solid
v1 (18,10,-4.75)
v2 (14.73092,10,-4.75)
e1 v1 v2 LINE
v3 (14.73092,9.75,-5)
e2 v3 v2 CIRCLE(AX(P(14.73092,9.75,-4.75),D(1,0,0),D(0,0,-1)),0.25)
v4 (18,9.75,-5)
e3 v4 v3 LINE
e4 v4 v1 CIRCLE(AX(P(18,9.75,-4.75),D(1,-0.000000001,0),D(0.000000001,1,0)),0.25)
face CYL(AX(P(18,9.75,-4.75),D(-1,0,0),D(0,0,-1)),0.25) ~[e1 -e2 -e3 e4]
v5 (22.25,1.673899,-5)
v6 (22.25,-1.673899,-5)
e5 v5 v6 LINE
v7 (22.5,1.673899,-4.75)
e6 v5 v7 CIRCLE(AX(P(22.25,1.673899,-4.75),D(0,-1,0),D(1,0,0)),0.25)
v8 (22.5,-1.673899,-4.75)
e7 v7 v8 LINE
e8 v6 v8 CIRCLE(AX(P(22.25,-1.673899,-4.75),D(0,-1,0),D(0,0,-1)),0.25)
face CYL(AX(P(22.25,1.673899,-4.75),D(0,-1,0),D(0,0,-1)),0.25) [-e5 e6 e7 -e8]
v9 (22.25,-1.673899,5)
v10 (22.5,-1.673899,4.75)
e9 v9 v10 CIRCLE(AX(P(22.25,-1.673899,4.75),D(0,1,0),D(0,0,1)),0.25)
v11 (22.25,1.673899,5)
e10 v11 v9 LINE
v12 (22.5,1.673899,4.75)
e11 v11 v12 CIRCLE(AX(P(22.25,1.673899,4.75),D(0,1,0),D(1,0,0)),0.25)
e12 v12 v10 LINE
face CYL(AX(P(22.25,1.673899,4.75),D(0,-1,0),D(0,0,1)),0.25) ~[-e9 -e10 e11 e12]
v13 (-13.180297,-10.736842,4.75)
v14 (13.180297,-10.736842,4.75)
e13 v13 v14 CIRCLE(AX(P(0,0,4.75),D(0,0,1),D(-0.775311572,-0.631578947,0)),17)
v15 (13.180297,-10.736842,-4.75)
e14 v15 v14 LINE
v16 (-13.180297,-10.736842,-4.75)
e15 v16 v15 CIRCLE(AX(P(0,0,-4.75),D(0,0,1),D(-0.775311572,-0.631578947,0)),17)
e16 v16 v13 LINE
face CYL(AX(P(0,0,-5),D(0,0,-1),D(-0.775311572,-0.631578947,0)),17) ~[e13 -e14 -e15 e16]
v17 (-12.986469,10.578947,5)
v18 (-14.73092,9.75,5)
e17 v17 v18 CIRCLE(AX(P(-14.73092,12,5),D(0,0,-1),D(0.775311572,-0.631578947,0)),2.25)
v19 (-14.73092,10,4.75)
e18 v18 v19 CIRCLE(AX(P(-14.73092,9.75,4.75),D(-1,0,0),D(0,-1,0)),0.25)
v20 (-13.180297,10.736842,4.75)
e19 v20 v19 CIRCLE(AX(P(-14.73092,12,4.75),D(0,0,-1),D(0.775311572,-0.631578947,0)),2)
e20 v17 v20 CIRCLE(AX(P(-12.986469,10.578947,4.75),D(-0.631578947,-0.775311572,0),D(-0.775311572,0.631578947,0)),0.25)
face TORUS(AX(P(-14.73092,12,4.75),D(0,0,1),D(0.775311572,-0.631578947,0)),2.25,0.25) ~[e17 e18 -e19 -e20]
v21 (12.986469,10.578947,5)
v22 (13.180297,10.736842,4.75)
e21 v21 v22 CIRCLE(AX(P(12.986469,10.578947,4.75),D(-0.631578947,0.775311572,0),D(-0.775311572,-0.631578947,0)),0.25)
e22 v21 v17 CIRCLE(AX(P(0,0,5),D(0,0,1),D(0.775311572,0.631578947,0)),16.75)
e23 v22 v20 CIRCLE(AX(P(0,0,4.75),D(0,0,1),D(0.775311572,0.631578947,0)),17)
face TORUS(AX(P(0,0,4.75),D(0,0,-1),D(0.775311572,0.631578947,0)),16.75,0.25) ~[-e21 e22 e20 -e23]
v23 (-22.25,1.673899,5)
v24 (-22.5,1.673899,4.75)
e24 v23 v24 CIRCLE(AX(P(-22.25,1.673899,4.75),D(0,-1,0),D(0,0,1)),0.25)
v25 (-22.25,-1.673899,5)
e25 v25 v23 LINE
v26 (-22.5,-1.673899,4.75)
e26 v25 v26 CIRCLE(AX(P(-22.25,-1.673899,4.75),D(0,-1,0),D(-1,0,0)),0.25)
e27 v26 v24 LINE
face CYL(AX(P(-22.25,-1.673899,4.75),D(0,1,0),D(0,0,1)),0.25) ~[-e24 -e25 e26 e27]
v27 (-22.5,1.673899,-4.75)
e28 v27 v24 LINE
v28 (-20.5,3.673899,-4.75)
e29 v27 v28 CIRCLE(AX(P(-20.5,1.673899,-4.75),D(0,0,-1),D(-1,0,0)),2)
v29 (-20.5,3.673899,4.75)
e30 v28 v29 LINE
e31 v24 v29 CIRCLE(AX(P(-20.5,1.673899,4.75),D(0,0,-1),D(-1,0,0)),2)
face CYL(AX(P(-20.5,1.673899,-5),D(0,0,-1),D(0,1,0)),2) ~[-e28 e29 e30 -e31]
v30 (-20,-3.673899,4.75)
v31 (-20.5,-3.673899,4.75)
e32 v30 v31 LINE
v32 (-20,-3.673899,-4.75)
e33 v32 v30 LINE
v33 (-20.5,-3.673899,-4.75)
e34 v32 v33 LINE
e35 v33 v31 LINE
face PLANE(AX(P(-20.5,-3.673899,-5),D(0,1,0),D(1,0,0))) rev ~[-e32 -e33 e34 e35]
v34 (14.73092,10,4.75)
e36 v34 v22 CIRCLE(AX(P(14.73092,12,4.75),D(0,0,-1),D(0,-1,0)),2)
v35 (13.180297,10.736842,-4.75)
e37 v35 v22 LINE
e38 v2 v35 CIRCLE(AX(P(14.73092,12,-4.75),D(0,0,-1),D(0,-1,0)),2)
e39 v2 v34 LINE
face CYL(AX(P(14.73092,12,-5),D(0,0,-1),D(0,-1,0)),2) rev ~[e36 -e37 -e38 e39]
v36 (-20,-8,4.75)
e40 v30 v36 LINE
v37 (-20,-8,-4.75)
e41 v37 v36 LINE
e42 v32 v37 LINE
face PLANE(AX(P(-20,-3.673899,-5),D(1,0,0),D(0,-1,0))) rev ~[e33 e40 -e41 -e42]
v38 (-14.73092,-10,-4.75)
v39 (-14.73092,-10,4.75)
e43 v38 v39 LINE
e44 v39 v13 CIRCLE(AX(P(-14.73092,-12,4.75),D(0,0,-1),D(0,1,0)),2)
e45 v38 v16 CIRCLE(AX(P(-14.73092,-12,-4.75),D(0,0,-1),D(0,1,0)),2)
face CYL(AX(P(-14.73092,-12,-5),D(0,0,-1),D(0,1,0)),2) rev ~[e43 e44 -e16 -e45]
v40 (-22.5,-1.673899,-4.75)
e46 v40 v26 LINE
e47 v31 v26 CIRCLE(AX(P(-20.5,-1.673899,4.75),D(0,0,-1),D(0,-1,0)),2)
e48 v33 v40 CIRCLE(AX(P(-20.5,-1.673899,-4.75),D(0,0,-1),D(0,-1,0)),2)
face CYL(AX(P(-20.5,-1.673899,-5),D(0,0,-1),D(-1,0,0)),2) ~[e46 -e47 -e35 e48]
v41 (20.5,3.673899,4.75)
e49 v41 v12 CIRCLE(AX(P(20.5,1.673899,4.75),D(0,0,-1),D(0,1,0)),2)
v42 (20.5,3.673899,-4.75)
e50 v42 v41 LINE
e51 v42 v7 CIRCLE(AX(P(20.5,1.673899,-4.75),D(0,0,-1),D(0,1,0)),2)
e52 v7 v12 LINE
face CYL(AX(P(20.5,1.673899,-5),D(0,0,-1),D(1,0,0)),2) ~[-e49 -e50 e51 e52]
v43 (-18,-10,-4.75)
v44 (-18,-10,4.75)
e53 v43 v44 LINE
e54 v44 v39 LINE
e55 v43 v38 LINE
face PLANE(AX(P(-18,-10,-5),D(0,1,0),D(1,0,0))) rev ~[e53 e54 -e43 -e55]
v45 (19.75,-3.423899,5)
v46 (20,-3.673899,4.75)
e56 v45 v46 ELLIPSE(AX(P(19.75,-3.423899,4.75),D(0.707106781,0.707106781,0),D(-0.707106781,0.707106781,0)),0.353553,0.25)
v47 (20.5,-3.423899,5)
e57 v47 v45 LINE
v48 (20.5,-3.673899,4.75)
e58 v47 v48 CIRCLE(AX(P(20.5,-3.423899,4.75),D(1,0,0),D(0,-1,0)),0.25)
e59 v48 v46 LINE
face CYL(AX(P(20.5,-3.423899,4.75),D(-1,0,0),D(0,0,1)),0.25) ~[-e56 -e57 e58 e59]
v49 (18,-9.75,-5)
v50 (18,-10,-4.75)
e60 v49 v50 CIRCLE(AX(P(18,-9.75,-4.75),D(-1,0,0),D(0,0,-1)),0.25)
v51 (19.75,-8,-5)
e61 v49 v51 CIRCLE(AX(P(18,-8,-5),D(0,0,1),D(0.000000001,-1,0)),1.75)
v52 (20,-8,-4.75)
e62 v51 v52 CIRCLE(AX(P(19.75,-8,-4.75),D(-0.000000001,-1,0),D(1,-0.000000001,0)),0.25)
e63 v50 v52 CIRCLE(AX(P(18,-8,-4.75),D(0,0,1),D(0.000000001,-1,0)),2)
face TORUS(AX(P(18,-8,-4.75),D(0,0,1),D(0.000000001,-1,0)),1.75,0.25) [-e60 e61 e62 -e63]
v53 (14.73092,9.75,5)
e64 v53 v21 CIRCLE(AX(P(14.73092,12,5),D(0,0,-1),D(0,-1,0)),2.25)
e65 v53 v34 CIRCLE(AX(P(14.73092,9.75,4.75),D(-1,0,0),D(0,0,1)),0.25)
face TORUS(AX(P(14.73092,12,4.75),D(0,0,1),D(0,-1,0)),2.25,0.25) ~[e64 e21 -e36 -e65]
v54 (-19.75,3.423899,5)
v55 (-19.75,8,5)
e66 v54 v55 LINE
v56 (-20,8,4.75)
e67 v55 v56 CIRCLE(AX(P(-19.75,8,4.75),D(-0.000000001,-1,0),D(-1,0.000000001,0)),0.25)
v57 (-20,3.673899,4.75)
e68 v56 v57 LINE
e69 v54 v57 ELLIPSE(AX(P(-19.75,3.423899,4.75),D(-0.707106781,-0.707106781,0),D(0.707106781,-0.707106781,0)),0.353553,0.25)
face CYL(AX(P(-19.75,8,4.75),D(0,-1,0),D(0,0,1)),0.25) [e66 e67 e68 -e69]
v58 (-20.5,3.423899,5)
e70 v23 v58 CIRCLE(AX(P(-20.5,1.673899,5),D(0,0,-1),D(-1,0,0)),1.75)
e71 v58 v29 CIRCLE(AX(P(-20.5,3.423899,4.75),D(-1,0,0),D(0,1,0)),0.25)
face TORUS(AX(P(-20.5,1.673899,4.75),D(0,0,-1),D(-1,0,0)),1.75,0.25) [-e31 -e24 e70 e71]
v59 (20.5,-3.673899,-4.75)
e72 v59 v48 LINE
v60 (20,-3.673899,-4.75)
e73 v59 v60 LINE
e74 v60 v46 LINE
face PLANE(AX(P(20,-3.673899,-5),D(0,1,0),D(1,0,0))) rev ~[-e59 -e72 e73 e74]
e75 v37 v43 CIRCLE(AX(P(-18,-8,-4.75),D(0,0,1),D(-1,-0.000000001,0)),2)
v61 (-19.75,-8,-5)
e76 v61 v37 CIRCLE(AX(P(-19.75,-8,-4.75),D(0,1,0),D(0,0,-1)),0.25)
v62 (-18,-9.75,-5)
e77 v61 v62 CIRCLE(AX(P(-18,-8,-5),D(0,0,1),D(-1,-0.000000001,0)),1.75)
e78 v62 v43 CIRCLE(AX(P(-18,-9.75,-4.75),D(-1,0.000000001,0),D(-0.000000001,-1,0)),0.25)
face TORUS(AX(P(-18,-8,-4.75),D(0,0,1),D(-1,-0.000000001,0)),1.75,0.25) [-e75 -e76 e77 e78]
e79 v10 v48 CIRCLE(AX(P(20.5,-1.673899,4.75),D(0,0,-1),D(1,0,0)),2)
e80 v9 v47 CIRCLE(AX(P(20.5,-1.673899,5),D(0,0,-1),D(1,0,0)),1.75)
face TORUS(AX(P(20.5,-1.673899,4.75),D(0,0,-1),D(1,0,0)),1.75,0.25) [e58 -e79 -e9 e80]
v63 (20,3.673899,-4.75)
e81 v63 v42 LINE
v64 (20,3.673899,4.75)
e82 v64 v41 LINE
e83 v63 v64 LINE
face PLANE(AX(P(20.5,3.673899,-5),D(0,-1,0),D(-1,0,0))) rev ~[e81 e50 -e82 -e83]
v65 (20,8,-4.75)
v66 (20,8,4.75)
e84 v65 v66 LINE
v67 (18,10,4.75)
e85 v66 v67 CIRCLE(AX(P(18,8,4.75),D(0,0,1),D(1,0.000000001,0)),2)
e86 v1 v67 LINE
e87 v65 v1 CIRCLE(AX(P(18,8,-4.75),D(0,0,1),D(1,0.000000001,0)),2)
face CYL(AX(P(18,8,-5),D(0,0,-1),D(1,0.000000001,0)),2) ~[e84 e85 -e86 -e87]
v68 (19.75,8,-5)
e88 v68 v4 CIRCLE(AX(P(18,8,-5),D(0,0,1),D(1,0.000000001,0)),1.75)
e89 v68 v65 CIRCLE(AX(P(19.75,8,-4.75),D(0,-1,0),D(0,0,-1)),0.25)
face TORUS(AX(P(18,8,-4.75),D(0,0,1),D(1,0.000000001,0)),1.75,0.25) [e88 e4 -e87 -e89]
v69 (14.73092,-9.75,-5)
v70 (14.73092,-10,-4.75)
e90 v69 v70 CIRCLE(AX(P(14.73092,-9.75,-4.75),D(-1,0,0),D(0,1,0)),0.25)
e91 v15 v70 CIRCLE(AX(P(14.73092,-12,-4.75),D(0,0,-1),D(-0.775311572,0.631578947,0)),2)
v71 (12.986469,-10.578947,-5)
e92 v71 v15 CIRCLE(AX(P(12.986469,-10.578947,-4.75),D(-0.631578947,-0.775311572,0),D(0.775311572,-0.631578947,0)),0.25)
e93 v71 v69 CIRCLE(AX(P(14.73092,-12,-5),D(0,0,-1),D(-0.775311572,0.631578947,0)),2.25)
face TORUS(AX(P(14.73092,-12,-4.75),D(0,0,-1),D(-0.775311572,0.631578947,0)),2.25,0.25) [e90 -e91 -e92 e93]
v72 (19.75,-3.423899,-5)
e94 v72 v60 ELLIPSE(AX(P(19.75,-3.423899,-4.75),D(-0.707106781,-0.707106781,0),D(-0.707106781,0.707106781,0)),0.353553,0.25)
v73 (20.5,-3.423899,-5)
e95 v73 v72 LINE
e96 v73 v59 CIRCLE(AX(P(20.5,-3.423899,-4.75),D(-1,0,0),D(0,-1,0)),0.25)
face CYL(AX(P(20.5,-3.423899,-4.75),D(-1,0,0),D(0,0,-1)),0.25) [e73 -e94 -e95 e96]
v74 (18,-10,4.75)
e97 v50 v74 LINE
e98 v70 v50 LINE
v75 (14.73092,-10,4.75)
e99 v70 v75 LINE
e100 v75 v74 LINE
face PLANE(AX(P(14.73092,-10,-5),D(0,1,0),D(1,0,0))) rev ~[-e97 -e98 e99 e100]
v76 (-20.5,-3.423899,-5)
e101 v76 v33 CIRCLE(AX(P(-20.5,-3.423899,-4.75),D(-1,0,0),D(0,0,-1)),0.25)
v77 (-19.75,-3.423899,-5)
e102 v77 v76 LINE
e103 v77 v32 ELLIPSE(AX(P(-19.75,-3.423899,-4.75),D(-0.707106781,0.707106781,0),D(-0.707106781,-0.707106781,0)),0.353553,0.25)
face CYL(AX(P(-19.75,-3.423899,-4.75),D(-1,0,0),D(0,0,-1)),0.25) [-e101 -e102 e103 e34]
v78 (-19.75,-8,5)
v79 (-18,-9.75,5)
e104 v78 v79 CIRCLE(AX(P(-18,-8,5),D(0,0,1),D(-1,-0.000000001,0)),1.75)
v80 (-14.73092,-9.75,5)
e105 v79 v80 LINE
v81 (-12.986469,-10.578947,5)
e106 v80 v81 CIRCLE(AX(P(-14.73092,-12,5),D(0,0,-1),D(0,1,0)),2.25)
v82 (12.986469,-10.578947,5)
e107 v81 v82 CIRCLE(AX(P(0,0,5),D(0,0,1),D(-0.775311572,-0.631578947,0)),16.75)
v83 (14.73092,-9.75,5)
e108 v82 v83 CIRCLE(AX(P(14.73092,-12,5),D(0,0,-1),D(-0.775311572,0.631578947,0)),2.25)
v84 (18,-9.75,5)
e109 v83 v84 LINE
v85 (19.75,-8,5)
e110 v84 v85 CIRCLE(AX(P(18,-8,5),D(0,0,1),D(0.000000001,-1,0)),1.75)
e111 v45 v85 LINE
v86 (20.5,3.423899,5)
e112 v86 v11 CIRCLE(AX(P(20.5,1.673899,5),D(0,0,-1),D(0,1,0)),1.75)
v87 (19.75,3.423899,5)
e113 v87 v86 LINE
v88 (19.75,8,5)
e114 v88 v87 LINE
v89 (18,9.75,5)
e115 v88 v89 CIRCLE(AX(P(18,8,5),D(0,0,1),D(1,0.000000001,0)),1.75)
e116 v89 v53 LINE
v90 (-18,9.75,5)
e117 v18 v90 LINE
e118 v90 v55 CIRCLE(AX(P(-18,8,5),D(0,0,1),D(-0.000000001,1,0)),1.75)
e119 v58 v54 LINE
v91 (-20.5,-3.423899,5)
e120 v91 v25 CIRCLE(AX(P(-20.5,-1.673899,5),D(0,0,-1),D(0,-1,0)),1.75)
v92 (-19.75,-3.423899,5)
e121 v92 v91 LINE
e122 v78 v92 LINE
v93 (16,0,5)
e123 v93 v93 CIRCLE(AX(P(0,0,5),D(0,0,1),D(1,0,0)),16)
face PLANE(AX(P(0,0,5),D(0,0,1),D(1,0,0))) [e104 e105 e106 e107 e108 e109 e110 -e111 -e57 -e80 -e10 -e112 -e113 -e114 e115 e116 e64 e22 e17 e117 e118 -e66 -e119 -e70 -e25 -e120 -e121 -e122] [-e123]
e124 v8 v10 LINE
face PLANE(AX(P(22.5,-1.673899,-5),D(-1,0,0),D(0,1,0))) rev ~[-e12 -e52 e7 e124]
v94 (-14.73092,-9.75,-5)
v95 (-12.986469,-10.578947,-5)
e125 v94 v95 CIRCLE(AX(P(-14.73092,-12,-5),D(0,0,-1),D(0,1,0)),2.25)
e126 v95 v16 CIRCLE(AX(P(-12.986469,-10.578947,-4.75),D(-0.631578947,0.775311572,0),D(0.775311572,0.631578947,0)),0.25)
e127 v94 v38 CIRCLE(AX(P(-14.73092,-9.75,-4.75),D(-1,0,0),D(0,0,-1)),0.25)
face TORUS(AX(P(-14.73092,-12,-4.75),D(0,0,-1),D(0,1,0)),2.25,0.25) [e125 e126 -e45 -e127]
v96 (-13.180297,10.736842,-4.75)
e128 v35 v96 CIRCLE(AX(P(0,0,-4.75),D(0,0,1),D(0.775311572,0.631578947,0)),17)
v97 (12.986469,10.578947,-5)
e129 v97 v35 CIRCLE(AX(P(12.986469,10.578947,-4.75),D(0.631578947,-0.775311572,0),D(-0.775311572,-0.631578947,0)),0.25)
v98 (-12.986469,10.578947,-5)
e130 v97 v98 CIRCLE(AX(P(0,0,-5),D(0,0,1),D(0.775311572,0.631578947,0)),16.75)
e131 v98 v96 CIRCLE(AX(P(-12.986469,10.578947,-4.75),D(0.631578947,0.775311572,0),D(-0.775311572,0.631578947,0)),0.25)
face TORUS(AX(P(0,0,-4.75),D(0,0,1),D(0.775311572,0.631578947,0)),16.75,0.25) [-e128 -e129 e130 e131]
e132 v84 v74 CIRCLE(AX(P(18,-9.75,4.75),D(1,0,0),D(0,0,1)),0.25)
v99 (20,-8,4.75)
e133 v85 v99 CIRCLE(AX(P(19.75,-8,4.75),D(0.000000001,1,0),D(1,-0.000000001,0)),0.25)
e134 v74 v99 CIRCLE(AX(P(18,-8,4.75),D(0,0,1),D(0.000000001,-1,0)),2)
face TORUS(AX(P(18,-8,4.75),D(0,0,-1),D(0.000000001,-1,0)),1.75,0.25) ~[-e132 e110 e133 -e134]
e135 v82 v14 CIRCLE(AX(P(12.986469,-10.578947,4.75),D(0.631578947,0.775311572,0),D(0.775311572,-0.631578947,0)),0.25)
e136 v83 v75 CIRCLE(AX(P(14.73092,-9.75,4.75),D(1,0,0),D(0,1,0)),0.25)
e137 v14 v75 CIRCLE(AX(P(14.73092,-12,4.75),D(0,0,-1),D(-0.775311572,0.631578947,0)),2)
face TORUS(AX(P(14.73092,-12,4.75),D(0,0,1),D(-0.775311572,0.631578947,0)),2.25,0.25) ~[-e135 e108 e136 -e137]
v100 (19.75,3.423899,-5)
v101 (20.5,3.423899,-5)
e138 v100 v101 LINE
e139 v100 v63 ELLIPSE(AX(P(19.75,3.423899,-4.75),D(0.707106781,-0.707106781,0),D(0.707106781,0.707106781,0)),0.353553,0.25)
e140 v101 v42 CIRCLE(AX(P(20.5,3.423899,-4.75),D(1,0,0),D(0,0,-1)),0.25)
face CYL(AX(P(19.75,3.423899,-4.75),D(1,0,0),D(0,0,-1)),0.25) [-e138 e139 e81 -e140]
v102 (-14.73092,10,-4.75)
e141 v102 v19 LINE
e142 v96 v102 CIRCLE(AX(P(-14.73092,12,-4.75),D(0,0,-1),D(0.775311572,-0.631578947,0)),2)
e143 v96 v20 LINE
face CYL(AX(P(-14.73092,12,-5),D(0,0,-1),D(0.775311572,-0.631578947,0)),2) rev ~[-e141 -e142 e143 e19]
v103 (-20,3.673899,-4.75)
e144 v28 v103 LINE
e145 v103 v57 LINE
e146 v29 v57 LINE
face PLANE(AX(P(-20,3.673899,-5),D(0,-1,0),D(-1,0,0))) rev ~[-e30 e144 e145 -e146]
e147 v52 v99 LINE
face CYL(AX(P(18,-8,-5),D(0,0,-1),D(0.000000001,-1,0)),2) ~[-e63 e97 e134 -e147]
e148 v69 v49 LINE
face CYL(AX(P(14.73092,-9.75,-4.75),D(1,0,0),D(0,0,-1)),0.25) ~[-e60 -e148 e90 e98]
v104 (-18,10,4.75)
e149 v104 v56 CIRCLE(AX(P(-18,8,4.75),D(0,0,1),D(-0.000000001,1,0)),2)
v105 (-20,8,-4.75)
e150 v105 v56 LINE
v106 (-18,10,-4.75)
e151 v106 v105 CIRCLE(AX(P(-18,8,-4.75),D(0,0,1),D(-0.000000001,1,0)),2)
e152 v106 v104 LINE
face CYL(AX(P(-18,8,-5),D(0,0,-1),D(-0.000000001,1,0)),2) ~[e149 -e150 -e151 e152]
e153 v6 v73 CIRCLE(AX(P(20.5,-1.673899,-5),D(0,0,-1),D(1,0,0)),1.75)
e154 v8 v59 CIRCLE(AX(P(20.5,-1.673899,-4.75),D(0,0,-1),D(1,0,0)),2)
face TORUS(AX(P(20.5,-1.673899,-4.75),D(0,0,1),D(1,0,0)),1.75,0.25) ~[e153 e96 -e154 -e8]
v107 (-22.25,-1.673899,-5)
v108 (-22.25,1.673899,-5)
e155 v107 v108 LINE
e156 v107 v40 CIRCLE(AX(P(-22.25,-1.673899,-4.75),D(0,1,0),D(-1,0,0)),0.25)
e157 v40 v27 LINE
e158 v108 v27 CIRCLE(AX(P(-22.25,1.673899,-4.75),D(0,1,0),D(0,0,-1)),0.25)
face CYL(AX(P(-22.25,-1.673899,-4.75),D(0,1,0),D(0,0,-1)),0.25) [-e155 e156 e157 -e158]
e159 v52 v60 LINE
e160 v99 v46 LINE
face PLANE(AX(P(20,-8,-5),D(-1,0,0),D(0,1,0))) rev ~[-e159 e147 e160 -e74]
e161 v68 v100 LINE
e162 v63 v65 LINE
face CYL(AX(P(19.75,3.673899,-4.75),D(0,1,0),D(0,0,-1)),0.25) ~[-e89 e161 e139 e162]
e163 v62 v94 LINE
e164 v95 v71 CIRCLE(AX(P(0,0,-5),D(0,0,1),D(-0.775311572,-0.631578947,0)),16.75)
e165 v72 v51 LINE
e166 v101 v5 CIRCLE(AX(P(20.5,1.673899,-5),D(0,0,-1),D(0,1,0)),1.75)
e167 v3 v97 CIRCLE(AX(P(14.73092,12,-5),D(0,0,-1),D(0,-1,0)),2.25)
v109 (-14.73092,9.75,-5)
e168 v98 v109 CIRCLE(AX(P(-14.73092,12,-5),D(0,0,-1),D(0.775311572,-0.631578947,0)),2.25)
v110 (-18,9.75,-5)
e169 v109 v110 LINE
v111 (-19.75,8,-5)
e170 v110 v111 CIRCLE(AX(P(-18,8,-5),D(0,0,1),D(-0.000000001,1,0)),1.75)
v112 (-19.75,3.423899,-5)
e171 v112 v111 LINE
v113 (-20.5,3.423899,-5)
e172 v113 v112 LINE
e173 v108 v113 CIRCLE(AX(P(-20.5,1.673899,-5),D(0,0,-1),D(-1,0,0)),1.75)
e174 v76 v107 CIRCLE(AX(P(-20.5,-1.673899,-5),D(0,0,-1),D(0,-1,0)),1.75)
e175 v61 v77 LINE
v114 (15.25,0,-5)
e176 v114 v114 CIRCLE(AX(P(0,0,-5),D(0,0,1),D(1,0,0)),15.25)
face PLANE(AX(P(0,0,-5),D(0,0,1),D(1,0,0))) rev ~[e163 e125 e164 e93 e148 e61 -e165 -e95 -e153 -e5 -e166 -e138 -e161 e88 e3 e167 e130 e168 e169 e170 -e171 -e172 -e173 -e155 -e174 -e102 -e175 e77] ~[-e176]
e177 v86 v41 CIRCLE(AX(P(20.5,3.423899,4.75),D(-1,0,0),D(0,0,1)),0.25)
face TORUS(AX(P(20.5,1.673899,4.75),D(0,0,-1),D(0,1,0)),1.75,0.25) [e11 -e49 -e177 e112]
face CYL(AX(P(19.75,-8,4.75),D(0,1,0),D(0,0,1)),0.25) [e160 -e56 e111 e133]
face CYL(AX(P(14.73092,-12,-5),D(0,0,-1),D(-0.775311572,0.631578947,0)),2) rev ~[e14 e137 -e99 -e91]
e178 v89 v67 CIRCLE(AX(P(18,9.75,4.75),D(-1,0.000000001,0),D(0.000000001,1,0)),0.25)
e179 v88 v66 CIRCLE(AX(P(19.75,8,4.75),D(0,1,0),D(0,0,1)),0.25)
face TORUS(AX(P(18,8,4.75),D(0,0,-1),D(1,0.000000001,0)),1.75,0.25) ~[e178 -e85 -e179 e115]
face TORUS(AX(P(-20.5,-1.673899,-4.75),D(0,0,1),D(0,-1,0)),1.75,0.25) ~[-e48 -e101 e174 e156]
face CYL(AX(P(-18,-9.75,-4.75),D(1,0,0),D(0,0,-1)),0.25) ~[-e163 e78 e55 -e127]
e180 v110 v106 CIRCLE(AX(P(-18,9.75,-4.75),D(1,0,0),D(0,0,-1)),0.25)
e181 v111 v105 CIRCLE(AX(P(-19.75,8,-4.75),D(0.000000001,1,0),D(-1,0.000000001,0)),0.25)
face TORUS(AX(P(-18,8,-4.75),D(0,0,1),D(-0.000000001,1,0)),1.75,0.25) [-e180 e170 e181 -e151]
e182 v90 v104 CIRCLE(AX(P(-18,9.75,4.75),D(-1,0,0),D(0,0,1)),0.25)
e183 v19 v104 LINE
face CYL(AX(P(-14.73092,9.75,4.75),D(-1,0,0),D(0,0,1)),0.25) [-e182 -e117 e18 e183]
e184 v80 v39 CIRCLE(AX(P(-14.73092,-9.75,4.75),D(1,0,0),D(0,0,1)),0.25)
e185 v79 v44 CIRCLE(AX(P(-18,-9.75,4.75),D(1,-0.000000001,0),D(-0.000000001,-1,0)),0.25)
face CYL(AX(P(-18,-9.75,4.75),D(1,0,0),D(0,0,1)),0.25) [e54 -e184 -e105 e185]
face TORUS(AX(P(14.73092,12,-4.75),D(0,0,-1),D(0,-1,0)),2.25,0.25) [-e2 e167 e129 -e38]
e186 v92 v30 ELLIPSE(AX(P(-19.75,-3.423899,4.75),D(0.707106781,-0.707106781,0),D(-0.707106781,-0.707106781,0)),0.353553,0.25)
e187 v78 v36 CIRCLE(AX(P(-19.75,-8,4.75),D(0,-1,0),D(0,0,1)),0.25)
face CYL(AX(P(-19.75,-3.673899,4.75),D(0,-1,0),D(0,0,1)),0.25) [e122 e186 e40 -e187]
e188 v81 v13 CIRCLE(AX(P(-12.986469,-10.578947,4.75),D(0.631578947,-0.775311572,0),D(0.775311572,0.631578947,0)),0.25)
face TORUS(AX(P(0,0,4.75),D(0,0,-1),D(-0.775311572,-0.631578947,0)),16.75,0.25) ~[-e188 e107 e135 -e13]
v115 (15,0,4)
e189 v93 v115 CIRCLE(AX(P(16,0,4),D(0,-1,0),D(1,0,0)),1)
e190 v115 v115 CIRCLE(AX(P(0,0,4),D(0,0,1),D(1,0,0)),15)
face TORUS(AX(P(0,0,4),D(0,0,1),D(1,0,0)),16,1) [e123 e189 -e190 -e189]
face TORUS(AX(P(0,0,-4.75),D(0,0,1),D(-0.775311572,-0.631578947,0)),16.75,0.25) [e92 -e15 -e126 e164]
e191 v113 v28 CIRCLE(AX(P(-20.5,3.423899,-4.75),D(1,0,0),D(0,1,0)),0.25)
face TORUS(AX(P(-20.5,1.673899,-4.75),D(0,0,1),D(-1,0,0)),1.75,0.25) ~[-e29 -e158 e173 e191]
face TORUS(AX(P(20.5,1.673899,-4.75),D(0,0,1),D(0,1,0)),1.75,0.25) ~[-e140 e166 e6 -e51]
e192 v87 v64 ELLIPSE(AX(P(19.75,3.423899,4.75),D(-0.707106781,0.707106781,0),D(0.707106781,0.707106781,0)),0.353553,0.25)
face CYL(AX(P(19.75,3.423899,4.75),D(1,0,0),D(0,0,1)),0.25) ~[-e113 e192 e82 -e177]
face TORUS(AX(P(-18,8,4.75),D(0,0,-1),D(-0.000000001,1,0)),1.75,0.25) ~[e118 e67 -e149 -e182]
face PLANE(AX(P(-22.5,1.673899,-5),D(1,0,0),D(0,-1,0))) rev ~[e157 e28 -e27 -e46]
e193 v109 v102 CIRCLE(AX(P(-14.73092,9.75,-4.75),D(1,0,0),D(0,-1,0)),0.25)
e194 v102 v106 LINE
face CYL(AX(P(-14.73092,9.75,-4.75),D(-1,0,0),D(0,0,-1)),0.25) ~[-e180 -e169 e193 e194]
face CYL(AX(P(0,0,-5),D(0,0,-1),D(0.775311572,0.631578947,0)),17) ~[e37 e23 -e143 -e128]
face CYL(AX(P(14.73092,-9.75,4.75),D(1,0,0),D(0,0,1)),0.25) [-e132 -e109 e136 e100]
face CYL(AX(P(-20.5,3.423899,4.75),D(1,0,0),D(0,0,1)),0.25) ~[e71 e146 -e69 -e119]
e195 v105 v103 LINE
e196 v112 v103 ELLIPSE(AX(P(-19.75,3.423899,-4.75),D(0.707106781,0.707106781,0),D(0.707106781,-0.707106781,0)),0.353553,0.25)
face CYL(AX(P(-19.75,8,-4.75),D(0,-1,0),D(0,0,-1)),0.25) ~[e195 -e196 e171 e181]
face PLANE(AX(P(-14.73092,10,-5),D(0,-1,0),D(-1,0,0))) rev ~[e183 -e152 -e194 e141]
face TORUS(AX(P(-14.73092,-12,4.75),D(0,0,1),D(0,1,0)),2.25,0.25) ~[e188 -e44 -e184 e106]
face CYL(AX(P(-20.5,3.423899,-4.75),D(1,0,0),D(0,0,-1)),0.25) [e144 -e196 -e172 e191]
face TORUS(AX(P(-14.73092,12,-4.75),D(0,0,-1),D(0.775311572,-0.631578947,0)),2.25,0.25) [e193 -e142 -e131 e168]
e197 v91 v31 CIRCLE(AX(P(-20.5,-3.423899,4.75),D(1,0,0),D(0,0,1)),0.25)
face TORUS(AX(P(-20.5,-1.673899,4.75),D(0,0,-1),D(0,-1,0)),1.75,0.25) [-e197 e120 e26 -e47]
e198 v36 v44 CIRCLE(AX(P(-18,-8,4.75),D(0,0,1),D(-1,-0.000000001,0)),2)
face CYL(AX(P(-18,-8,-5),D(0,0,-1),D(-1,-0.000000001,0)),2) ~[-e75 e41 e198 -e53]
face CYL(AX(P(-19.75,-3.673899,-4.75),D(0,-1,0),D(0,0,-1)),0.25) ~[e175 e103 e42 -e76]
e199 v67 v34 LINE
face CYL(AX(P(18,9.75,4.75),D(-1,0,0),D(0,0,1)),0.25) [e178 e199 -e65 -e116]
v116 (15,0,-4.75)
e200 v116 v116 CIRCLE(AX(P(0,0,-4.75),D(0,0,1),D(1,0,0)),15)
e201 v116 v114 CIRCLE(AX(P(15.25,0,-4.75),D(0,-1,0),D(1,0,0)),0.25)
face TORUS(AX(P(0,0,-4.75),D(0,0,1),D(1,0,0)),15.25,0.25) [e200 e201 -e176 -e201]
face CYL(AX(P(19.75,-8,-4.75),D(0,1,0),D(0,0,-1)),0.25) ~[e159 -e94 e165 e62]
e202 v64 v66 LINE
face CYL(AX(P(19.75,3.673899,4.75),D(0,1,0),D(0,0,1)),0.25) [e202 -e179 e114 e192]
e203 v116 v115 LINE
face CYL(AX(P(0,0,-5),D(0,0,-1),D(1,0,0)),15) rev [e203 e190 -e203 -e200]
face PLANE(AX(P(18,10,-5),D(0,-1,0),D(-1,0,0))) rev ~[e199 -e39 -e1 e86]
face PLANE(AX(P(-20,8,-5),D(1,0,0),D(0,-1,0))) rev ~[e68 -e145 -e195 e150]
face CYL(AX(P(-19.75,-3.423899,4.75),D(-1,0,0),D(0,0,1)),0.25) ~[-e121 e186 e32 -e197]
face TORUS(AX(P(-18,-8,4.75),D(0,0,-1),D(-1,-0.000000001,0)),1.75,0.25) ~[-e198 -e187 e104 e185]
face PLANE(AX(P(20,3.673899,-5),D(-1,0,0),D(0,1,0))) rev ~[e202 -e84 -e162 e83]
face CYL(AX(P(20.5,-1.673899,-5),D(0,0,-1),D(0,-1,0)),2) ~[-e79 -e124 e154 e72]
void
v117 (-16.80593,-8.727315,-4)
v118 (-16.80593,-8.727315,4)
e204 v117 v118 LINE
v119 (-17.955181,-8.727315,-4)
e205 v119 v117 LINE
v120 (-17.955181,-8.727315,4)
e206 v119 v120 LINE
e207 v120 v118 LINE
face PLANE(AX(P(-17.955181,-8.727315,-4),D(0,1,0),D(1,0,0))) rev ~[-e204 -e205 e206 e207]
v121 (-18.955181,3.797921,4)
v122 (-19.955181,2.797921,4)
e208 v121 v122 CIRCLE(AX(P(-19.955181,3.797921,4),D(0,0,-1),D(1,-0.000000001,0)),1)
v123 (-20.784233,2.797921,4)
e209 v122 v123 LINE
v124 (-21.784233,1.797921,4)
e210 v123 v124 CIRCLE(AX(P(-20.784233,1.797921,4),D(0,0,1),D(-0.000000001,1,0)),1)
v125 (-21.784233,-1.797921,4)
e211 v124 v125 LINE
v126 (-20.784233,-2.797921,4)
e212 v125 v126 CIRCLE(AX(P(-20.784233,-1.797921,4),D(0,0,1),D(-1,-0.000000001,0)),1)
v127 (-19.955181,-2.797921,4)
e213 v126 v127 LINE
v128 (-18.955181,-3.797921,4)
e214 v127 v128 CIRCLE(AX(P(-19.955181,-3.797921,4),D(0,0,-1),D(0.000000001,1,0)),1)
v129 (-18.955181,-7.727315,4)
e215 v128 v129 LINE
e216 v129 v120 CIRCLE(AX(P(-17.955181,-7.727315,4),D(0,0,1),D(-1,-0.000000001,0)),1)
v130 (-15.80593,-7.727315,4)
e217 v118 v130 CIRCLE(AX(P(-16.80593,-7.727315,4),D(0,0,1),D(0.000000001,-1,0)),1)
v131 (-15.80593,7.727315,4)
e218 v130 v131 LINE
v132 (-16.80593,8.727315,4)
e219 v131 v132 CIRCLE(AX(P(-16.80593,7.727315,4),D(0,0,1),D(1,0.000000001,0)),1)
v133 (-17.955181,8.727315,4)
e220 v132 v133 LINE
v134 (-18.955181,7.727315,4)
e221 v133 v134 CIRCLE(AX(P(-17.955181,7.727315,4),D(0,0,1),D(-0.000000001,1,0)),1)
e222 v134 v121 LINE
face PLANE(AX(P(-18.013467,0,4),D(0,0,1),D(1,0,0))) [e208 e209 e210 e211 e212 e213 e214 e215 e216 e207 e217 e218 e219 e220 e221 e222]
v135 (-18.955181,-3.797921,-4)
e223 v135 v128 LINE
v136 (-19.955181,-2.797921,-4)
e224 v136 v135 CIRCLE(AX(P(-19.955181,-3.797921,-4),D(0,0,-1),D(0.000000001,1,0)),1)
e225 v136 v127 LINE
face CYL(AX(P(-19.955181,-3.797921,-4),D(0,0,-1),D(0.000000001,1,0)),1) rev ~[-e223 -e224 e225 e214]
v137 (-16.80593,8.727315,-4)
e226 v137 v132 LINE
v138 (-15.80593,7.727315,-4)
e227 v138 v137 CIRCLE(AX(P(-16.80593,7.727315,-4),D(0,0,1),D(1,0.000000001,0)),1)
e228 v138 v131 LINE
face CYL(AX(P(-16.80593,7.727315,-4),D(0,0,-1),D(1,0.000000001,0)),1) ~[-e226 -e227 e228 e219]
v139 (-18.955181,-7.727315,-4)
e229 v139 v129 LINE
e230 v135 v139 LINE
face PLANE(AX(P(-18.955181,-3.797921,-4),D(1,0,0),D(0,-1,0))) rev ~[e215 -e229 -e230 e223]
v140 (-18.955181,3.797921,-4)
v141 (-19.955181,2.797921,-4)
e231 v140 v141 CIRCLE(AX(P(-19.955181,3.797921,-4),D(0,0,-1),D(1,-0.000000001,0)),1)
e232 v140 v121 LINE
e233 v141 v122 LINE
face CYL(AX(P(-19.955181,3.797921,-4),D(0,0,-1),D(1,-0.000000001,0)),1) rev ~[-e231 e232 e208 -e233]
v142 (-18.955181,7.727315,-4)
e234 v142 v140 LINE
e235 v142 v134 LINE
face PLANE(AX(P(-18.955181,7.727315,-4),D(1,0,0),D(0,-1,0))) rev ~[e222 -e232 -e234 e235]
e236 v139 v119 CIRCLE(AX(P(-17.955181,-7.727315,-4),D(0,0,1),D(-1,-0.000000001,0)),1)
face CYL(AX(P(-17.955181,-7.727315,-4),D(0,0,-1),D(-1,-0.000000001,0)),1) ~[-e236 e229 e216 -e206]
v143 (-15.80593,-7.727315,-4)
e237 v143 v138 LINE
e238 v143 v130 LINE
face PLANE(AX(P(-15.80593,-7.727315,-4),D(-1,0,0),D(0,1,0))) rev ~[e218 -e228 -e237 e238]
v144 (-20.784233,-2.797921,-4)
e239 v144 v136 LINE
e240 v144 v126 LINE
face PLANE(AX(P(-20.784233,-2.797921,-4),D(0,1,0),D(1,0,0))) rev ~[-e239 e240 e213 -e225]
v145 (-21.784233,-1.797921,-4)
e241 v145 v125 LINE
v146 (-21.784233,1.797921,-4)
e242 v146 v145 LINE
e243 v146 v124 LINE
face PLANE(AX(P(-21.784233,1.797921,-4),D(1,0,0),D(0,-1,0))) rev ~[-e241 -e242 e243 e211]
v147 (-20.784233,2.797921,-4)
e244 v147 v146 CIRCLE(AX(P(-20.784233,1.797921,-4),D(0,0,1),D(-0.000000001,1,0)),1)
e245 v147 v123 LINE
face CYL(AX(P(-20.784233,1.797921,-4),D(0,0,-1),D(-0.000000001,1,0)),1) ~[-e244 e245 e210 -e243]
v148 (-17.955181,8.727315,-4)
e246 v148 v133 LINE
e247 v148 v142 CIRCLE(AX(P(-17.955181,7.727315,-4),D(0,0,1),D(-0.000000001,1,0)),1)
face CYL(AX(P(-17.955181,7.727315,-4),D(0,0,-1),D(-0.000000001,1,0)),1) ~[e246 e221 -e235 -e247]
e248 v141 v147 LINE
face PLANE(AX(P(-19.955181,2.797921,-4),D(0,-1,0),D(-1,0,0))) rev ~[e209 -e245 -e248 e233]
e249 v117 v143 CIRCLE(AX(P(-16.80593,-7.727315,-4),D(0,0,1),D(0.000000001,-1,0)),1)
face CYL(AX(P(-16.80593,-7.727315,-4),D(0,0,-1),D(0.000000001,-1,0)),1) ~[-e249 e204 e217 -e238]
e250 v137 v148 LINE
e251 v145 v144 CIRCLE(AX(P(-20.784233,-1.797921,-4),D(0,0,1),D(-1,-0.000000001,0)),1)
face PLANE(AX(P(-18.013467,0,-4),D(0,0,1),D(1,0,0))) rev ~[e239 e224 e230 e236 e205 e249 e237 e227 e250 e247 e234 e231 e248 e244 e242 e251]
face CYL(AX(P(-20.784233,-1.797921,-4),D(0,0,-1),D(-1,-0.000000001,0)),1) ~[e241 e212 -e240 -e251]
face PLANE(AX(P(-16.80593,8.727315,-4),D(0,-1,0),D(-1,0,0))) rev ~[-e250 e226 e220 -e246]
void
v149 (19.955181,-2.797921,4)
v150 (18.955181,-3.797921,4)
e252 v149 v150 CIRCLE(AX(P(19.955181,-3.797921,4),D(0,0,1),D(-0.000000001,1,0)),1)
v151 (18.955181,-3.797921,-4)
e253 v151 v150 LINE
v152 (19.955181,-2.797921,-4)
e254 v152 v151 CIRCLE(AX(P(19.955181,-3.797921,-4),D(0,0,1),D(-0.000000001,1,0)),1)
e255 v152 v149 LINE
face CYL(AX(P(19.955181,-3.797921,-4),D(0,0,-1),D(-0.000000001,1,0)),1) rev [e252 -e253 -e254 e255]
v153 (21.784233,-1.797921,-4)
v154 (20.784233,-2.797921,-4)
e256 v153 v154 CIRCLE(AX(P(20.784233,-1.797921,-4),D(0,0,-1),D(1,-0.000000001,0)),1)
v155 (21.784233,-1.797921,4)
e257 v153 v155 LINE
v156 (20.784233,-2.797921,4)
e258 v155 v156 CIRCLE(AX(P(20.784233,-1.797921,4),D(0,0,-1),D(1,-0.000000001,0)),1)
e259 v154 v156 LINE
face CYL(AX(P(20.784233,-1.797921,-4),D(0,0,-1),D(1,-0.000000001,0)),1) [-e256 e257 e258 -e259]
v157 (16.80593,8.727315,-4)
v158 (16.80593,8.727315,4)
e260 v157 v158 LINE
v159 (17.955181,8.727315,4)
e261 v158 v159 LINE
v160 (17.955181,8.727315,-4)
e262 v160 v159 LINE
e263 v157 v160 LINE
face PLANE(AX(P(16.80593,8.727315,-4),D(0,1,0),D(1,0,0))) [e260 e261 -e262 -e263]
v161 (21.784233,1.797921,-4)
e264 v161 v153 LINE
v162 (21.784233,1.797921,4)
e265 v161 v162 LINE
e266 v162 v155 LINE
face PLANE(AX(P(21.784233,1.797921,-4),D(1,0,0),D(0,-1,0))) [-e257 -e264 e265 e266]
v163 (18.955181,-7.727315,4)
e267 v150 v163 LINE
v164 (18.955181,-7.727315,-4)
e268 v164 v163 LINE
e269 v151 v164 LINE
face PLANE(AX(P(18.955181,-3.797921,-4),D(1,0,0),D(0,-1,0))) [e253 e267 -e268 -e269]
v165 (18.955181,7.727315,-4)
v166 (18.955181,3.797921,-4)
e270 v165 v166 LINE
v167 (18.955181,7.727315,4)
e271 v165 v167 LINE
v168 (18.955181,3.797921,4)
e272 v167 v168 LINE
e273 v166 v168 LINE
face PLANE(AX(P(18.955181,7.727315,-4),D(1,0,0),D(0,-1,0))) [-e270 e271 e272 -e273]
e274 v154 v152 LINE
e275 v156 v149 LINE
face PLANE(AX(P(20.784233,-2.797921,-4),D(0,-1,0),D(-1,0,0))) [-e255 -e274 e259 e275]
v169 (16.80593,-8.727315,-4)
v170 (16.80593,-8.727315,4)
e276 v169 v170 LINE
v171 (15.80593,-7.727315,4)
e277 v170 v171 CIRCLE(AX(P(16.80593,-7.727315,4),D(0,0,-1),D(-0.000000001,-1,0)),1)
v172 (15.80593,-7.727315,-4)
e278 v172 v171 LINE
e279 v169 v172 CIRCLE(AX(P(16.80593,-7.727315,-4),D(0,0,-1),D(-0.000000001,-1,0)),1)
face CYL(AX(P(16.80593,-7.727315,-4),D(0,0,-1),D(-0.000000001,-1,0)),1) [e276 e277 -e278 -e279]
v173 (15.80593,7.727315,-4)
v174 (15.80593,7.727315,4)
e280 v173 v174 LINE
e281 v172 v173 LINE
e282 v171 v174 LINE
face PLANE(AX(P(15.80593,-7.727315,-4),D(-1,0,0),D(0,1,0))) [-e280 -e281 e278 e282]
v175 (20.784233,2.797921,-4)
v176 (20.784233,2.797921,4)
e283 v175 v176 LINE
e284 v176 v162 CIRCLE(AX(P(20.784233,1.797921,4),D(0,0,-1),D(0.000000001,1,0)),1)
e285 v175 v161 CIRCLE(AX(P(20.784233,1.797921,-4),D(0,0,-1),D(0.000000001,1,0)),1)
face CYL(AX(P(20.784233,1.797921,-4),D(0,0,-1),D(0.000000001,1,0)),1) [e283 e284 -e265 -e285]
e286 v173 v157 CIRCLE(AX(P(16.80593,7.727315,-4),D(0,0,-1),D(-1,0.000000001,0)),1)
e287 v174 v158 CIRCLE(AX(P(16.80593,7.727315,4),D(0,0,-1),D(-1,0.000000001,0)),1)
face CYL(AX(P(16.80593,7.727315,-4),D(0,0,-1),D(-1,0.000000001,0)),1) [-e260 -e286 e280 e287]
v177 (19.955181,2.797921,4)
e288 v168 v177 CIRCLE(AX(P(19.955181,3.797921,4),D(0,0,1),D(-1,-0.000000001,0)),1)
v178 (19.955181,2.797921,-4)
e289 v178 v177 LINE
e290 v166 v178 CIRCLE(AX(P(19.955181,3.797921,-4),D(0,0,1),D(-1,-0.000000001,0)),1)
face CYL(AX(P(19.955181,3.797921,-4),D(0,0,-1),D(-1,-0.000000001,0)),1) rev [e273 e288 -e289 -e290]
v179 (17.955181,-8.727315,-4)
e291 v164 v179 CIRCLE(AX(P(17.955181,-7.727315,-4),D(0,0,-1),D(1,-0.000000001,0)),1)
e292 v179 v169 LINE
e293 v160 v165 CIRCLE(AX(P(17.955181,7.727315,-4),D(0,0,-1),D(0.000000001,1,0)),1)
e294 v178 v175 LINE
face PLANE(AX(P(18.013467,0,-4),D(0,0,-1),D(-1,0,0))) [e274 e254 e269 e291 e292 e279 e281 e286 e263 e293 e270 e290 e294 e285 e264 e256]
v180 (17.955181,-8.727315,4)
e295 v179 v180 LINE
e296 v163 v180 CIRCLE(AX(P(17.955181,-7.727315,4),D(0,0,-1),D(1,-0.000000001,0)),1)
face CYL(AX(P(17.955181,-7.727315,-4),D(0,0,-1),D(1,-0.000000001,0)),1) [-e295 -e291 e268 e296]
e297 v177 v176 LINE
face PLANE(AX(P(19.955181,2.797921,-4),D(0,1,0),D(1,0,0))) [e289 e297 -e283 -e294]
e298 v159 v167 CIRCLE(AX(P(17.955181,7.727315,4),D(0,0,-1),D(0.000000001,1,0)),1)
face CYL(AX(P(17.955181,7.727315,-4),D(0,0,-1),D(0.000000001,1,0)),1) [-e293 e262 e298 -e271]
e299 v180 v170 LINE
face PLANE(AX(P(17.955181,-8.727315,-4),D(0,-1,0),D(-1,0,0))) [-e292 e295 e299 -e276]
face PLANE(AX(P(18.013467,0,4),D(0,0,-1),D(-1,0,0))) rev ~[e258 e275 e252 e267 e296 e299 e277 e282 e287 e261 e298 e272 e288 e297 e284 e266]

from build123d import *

# Parameters (mm, degrees)
BOSS_EXTRU_2_DEPTH           = 5
BOSS_EXTRU_2_DEPTH_BACK      = 5
ESQUISSE1_R                  = 15
ENL_V_MAT_EXTRU_1_DEPTH      = 4
ENL_V_MAT_EXTRU_1_DEPTH_BACK = 4
CONG_1_R                     = 1
CONG_2_R                     = 0.25
CONG_3_R                     = 0.25
CONG_4_R                     = 0.25


with BuildPart() as part:
    # Esquisse1 → Boss.-Extru.2 (new, two sides: drawn at the far end of the back side and taken through both)
    with BuildSketch(Plane.XY.offset(-BOSS_EXTRU_2_DEPTH_BACK)):
        with BuildLine():
            Line((14.730919863, -10), (18, -10))
            ThreePointArc((18, -10), (19.414213562, -9.414213562), (20, -8))
            Line((20, -8), (20, -3.673898915))
            Line((20, -3.673898915), (20.5, -3.673898915))
            ThreePointArc((20.5, -3.673898915), (21.914213562, -3.088112478), (22.5, -1.673898915))
            Line((22.5, -1.673898915), (22.5, 1.673898915))
            ThreePointArc((22.5, 1.673898915), (21.914213562, 3.088112478), (20.5, 3.673898915))
            Line((20.5, 3.673898915), (20, 3.673898915))
            Line((20, 3.673898915), (20, 8))
            ThreePointArc((20, 8), (19.414213562, 9.414213562), (18, 10))
            Line((18, 10), (14.730919863, 10))
            ThreePointArc((14.730919863, 10), (13.872524787, 10.193578705), (13.180296719, 10.736842105))
            ThreePointArc((13.180296719, 10.736842105), (0, 17), (-13.180296719, 10.736842105))
            ThreePointArc((-13.180296719, 10.736842105), (-13.872524787, 10.193578705), (-14.730919863, 10))
            Line((-14.730919863, 10), (-18, 10))
            ThreePointArc((-18, 10), (-19.414213562, 9.414213562), (-20, 8))
            Line((-20, 8), (-20, 3.673898915))
            Line((-20, 3.673898915), (-20.5, 3.673898915))
            ThreePointArc((-20.5, 3.673898915), (-21.914213562, 3.088112478), (-22.5, 1.673898915))
            Line((-22.5, 1.673898915), (-22.5, -1.673898915))
            ThreePointArc((-22.5, -1.673898915), (-21.914213562, -3.088112478), (-20.5, -3.673898915))
            Line((-20.5, -3.673898915), (-20, -3.673898915))
            Line((-20, -3.673898915), (-20, -8))
            ThreePointArc((-20, -8), (-19.414213562, -9.414213562), (-18, -10))
            Line((-18, -10), (-14.730919863, -10))
            ThreePointArc((-14.730919863, -10), (-13.872524787, -10.193578705), (-13.180296719, -10.736842105))
            ThreePointArc((-13.180296719, -10.736842105), (0, -17), (13.180296719, -10.736842105))
            ThreePointArc((13.180296719, -10.736842105), (13.872524787, -10.193578705), (14.730919863, -10))
        make_face()
        Circle(ESQUISSE1_R, mode=Mode.SUBTRACT)
    extrude(amount=BOSS_EXTRU_2_DEPTH + BOSS_EXTRU_2_DEPTH_BACK)

    # Esquisse2 → Enlèv. mat.-Extru.1 (cut, two sides: drawn at the far end of the back side and taken through both)
    with BuildSketch(Plane.XY.offset(-ENL_V_MAT_EXTRU_1_DEPTH_BACK)):
        with BuildLine():
            Line((-17.955181025, -8.727315148), (-16.805930325, -8.727315148))
            ThreePointArc((-16.805930325, -8.727315148), (-16.098823544, -8.434421929), (-15.805930325, -7.727315148))
            Line((-15.805930325, -7.727315148), (-15.805930325, 7.727315148))
            ThreePointArc((-15.805930325, 7.727315148), (-16.098823544, 8.434421929), (-16.805930325, 8.727315148))
            Line((-16.805930325, 8.727315148), (-17.955181025, 8.727315148))
            ThreePointArc((-17.955181025, 8.727315148), (-18.662287806, 8.434421929), (-18.955181025, 7.727315148))
            Line((-18.955181025, 7.727315148), (-18.955181025, 3.797921231))
            ThreePointArc((-18.955181025, 3.797921231), (-19.248074244, 3.09081445), (-19.955181025, 2.797921231))
            Line((-19.955181025, 2.797921231), (-20.784233073, 2.797921231))
            ThreePointArc((-20.784233073, 2.797921231), (-21.491339854, 2.505028012), (-21.784233073, 1.797921231))
            Line((-21.784233073, 1.797921231), (-21.784233073, -1.797921231))
            ThreePointArc((-21.784233073, -1.797921231), (-21.491339854, -2.505028012), (-20.784233073, -2.797921231))
            Line((-20.784233073, -2.797921231), (-19.955181025, -2.797921231))
            ThreePointArc((-19.955181025, -2.797921231), (-19.248074244, -3.09081445), (-18.955181025, -3.797921231))
            Line((-18.955181025, -3.797921231), (-18.955181025, -7.727315148))
            ThreePointArc((-18.955181025, -7.727315148), (-18.662287806, -8.434421929), (-17.955181025, -8.727315148))
        make_face()
        with BuildLine():
            Line((17.955181025, -8.727315148), (16.805930325, -8.727315148))
            ThreePointArc((16.805930325, -8.727315148), (16.098823544, -8.434421929), (15.805930325, -7.727315148))
            Line((15.805930325, -7.727315148), (15.805930325, 7.727315148))
            ThreePointArc((15.805930325, 7.727315148), (16.098823544, 8.434421929), (16.805930325, 8.727315148))
            Line((16.805930325, 8.727315148), (17.955181025, 8.727315148))
            ThreePointArc((17.955181025, 8.727315148), (18.662287806, 8.434421929), (18.955181025, 7.727315148))
            Line((18.955181025, 7.727315148), (18.955181025, 3.797921231))
            ThreePointArc((18.955181025, 3.797921231), (19.248074244, 3.09081445), (19.955181025, 2.797921231))
            Line((19.955181025, 2.797921231), (20.784233073, 2.797921231))
            ThreePointArc((20.784233073, 2.797921231), (21.491339854, 2.505028012), (21.784233073, 1.797921231))
            Line((21.784233073, 1.797921231), (21.784233073, -1.797921231))
            ThreePointArc((21.784233073, -1.797921231), (21.491339854, -2.505028012), (20.784233073, -2.797921231))
            Line((20.784233073, -2.797921231), (19.955181025, -2.797921231))
            ThreePointArc((19.955181025, -2.797921231), (19.248074244, -3.09081445), (18.955181025, -3.797921231))
            Line((18.955181025, -3.797921231), (18.955181025, -7.727315148))
            ThreePointArc((18.955181025, -7.727315148), (18.662287806, -8.434421929), (17.955181025, -8.727315148))
        make_face()
    extrude(amount=ENL_V_MAT_EXTRU_1_DEPTH + ENL_V_MAT_EXTRU_1_DEPTH_BACK, mode=Mode.SUBTRACT)

    # Congé1
    cong_1_edges = [part.edges().sort_by_distance(p)[0] for p in [
        (-15, 0, 5),
    ]]
    fillet(cong_1_edges, radius=CONG_1_R)

    # Congé2
    cong_2_edges = [part.edges().sort_by_distance(p)[0] for p in [
        (-15, 0, -5),
    ]]
    fillet(cong_2_edges, radius=CONG_2_R)

    # Congé3
    cong_3_edges = [part.edges().sort_by_distance(p)[0] for p in [
        (-13.872524787, 10.193578705, -5),
        (-16.365459931, 10, -5),
        (-19.414213562, 9.414213562, -5),
        (-20, 5.836949458, -5),
        (-20, -5.836949458, -5),
        (-19.414213562, -9.414213562, -5),
        (-16.365459931, -10, -5),
        (-13.872524787, -10.193578705, -5),
        (0, -17, -5),
        (13.872524787, -10.193578705, -5),
        (16.365459931, -10, -5),
        (19.414213562, -9.414213562, -5),
        (20, -5.836949458, -5),
        (-20, -5.836949458, 5),
        (-19.414213562, -9.414213562, 5),
        (-16.365459931, -10, 5),
        (-13.872524787, -10.193578705, 5),
        (0, -17, 5),
        (13.872524787, -10.193578705, 5),
        (16.365459931, -10, 5),
        (19.414213562, -9.414213562, 5),
        (20, -5.836949458, 5),
        (20, 5.836949458, 5),
        (19.414213562, 9.414213562, 5),
        (16.365459931, 10, 5),
        (13.872524787, 10.193578705, 5),
        (0, 17, 5),
        (-13.872524787, 10.193578705, 5),
        (-16.365459931, 10, 5),
        (-19.414213562, 9.414213562, 5),
        (-20, 5.836949458, 5),
        (20, 5.836949458, -5),
        (19.414213562, 9.414213562, -5),
        (16.365459931, 10, -5),
        (13.872524787, 10.193578705, -5),
        (0, 17, -5),
    ]]
    fillet(cong_3_edges, radius=CONG_3_R)

    # Congé4
    cong_4_edges = [part.edges().sort_by_distance(p)[0] for p in [
        (-20.125, 3.673898915, -5),
        (-20.125, -3.673898915, -5),
        (-21.914213562, -3.088112478, -5),
        (-22.5, 0, -5),
        (20.125, -3.673898915, -5),
        (21.914213562, -3.088112478, -5),
        (22.5, 0, -5),
        (20.125, 3.673898915, -5),
        (-20.125, 3.673898915, 5),
        (-20.125, -3.673898915, 5),
        (-21.914213562, -3.088112478, 5),
        (-22.5, 0, 5),
        (20.125, -3.673898915, 5),
        (21.914213562, -3.088112478, 5),
        (22.5, 0, 5),
        (20.125, 3.673898915, 5),
        (-21.914213562, 3.088112478, -5),
        (21.914213562, 3.088112478, -5),
        (-21.914213562, 3.088112478, 5),
        (21.914213562, 3.088112478, 5),
    ]]
    fillet(cong_4_edges, radius=CONG_4_R)


solid = part.part
